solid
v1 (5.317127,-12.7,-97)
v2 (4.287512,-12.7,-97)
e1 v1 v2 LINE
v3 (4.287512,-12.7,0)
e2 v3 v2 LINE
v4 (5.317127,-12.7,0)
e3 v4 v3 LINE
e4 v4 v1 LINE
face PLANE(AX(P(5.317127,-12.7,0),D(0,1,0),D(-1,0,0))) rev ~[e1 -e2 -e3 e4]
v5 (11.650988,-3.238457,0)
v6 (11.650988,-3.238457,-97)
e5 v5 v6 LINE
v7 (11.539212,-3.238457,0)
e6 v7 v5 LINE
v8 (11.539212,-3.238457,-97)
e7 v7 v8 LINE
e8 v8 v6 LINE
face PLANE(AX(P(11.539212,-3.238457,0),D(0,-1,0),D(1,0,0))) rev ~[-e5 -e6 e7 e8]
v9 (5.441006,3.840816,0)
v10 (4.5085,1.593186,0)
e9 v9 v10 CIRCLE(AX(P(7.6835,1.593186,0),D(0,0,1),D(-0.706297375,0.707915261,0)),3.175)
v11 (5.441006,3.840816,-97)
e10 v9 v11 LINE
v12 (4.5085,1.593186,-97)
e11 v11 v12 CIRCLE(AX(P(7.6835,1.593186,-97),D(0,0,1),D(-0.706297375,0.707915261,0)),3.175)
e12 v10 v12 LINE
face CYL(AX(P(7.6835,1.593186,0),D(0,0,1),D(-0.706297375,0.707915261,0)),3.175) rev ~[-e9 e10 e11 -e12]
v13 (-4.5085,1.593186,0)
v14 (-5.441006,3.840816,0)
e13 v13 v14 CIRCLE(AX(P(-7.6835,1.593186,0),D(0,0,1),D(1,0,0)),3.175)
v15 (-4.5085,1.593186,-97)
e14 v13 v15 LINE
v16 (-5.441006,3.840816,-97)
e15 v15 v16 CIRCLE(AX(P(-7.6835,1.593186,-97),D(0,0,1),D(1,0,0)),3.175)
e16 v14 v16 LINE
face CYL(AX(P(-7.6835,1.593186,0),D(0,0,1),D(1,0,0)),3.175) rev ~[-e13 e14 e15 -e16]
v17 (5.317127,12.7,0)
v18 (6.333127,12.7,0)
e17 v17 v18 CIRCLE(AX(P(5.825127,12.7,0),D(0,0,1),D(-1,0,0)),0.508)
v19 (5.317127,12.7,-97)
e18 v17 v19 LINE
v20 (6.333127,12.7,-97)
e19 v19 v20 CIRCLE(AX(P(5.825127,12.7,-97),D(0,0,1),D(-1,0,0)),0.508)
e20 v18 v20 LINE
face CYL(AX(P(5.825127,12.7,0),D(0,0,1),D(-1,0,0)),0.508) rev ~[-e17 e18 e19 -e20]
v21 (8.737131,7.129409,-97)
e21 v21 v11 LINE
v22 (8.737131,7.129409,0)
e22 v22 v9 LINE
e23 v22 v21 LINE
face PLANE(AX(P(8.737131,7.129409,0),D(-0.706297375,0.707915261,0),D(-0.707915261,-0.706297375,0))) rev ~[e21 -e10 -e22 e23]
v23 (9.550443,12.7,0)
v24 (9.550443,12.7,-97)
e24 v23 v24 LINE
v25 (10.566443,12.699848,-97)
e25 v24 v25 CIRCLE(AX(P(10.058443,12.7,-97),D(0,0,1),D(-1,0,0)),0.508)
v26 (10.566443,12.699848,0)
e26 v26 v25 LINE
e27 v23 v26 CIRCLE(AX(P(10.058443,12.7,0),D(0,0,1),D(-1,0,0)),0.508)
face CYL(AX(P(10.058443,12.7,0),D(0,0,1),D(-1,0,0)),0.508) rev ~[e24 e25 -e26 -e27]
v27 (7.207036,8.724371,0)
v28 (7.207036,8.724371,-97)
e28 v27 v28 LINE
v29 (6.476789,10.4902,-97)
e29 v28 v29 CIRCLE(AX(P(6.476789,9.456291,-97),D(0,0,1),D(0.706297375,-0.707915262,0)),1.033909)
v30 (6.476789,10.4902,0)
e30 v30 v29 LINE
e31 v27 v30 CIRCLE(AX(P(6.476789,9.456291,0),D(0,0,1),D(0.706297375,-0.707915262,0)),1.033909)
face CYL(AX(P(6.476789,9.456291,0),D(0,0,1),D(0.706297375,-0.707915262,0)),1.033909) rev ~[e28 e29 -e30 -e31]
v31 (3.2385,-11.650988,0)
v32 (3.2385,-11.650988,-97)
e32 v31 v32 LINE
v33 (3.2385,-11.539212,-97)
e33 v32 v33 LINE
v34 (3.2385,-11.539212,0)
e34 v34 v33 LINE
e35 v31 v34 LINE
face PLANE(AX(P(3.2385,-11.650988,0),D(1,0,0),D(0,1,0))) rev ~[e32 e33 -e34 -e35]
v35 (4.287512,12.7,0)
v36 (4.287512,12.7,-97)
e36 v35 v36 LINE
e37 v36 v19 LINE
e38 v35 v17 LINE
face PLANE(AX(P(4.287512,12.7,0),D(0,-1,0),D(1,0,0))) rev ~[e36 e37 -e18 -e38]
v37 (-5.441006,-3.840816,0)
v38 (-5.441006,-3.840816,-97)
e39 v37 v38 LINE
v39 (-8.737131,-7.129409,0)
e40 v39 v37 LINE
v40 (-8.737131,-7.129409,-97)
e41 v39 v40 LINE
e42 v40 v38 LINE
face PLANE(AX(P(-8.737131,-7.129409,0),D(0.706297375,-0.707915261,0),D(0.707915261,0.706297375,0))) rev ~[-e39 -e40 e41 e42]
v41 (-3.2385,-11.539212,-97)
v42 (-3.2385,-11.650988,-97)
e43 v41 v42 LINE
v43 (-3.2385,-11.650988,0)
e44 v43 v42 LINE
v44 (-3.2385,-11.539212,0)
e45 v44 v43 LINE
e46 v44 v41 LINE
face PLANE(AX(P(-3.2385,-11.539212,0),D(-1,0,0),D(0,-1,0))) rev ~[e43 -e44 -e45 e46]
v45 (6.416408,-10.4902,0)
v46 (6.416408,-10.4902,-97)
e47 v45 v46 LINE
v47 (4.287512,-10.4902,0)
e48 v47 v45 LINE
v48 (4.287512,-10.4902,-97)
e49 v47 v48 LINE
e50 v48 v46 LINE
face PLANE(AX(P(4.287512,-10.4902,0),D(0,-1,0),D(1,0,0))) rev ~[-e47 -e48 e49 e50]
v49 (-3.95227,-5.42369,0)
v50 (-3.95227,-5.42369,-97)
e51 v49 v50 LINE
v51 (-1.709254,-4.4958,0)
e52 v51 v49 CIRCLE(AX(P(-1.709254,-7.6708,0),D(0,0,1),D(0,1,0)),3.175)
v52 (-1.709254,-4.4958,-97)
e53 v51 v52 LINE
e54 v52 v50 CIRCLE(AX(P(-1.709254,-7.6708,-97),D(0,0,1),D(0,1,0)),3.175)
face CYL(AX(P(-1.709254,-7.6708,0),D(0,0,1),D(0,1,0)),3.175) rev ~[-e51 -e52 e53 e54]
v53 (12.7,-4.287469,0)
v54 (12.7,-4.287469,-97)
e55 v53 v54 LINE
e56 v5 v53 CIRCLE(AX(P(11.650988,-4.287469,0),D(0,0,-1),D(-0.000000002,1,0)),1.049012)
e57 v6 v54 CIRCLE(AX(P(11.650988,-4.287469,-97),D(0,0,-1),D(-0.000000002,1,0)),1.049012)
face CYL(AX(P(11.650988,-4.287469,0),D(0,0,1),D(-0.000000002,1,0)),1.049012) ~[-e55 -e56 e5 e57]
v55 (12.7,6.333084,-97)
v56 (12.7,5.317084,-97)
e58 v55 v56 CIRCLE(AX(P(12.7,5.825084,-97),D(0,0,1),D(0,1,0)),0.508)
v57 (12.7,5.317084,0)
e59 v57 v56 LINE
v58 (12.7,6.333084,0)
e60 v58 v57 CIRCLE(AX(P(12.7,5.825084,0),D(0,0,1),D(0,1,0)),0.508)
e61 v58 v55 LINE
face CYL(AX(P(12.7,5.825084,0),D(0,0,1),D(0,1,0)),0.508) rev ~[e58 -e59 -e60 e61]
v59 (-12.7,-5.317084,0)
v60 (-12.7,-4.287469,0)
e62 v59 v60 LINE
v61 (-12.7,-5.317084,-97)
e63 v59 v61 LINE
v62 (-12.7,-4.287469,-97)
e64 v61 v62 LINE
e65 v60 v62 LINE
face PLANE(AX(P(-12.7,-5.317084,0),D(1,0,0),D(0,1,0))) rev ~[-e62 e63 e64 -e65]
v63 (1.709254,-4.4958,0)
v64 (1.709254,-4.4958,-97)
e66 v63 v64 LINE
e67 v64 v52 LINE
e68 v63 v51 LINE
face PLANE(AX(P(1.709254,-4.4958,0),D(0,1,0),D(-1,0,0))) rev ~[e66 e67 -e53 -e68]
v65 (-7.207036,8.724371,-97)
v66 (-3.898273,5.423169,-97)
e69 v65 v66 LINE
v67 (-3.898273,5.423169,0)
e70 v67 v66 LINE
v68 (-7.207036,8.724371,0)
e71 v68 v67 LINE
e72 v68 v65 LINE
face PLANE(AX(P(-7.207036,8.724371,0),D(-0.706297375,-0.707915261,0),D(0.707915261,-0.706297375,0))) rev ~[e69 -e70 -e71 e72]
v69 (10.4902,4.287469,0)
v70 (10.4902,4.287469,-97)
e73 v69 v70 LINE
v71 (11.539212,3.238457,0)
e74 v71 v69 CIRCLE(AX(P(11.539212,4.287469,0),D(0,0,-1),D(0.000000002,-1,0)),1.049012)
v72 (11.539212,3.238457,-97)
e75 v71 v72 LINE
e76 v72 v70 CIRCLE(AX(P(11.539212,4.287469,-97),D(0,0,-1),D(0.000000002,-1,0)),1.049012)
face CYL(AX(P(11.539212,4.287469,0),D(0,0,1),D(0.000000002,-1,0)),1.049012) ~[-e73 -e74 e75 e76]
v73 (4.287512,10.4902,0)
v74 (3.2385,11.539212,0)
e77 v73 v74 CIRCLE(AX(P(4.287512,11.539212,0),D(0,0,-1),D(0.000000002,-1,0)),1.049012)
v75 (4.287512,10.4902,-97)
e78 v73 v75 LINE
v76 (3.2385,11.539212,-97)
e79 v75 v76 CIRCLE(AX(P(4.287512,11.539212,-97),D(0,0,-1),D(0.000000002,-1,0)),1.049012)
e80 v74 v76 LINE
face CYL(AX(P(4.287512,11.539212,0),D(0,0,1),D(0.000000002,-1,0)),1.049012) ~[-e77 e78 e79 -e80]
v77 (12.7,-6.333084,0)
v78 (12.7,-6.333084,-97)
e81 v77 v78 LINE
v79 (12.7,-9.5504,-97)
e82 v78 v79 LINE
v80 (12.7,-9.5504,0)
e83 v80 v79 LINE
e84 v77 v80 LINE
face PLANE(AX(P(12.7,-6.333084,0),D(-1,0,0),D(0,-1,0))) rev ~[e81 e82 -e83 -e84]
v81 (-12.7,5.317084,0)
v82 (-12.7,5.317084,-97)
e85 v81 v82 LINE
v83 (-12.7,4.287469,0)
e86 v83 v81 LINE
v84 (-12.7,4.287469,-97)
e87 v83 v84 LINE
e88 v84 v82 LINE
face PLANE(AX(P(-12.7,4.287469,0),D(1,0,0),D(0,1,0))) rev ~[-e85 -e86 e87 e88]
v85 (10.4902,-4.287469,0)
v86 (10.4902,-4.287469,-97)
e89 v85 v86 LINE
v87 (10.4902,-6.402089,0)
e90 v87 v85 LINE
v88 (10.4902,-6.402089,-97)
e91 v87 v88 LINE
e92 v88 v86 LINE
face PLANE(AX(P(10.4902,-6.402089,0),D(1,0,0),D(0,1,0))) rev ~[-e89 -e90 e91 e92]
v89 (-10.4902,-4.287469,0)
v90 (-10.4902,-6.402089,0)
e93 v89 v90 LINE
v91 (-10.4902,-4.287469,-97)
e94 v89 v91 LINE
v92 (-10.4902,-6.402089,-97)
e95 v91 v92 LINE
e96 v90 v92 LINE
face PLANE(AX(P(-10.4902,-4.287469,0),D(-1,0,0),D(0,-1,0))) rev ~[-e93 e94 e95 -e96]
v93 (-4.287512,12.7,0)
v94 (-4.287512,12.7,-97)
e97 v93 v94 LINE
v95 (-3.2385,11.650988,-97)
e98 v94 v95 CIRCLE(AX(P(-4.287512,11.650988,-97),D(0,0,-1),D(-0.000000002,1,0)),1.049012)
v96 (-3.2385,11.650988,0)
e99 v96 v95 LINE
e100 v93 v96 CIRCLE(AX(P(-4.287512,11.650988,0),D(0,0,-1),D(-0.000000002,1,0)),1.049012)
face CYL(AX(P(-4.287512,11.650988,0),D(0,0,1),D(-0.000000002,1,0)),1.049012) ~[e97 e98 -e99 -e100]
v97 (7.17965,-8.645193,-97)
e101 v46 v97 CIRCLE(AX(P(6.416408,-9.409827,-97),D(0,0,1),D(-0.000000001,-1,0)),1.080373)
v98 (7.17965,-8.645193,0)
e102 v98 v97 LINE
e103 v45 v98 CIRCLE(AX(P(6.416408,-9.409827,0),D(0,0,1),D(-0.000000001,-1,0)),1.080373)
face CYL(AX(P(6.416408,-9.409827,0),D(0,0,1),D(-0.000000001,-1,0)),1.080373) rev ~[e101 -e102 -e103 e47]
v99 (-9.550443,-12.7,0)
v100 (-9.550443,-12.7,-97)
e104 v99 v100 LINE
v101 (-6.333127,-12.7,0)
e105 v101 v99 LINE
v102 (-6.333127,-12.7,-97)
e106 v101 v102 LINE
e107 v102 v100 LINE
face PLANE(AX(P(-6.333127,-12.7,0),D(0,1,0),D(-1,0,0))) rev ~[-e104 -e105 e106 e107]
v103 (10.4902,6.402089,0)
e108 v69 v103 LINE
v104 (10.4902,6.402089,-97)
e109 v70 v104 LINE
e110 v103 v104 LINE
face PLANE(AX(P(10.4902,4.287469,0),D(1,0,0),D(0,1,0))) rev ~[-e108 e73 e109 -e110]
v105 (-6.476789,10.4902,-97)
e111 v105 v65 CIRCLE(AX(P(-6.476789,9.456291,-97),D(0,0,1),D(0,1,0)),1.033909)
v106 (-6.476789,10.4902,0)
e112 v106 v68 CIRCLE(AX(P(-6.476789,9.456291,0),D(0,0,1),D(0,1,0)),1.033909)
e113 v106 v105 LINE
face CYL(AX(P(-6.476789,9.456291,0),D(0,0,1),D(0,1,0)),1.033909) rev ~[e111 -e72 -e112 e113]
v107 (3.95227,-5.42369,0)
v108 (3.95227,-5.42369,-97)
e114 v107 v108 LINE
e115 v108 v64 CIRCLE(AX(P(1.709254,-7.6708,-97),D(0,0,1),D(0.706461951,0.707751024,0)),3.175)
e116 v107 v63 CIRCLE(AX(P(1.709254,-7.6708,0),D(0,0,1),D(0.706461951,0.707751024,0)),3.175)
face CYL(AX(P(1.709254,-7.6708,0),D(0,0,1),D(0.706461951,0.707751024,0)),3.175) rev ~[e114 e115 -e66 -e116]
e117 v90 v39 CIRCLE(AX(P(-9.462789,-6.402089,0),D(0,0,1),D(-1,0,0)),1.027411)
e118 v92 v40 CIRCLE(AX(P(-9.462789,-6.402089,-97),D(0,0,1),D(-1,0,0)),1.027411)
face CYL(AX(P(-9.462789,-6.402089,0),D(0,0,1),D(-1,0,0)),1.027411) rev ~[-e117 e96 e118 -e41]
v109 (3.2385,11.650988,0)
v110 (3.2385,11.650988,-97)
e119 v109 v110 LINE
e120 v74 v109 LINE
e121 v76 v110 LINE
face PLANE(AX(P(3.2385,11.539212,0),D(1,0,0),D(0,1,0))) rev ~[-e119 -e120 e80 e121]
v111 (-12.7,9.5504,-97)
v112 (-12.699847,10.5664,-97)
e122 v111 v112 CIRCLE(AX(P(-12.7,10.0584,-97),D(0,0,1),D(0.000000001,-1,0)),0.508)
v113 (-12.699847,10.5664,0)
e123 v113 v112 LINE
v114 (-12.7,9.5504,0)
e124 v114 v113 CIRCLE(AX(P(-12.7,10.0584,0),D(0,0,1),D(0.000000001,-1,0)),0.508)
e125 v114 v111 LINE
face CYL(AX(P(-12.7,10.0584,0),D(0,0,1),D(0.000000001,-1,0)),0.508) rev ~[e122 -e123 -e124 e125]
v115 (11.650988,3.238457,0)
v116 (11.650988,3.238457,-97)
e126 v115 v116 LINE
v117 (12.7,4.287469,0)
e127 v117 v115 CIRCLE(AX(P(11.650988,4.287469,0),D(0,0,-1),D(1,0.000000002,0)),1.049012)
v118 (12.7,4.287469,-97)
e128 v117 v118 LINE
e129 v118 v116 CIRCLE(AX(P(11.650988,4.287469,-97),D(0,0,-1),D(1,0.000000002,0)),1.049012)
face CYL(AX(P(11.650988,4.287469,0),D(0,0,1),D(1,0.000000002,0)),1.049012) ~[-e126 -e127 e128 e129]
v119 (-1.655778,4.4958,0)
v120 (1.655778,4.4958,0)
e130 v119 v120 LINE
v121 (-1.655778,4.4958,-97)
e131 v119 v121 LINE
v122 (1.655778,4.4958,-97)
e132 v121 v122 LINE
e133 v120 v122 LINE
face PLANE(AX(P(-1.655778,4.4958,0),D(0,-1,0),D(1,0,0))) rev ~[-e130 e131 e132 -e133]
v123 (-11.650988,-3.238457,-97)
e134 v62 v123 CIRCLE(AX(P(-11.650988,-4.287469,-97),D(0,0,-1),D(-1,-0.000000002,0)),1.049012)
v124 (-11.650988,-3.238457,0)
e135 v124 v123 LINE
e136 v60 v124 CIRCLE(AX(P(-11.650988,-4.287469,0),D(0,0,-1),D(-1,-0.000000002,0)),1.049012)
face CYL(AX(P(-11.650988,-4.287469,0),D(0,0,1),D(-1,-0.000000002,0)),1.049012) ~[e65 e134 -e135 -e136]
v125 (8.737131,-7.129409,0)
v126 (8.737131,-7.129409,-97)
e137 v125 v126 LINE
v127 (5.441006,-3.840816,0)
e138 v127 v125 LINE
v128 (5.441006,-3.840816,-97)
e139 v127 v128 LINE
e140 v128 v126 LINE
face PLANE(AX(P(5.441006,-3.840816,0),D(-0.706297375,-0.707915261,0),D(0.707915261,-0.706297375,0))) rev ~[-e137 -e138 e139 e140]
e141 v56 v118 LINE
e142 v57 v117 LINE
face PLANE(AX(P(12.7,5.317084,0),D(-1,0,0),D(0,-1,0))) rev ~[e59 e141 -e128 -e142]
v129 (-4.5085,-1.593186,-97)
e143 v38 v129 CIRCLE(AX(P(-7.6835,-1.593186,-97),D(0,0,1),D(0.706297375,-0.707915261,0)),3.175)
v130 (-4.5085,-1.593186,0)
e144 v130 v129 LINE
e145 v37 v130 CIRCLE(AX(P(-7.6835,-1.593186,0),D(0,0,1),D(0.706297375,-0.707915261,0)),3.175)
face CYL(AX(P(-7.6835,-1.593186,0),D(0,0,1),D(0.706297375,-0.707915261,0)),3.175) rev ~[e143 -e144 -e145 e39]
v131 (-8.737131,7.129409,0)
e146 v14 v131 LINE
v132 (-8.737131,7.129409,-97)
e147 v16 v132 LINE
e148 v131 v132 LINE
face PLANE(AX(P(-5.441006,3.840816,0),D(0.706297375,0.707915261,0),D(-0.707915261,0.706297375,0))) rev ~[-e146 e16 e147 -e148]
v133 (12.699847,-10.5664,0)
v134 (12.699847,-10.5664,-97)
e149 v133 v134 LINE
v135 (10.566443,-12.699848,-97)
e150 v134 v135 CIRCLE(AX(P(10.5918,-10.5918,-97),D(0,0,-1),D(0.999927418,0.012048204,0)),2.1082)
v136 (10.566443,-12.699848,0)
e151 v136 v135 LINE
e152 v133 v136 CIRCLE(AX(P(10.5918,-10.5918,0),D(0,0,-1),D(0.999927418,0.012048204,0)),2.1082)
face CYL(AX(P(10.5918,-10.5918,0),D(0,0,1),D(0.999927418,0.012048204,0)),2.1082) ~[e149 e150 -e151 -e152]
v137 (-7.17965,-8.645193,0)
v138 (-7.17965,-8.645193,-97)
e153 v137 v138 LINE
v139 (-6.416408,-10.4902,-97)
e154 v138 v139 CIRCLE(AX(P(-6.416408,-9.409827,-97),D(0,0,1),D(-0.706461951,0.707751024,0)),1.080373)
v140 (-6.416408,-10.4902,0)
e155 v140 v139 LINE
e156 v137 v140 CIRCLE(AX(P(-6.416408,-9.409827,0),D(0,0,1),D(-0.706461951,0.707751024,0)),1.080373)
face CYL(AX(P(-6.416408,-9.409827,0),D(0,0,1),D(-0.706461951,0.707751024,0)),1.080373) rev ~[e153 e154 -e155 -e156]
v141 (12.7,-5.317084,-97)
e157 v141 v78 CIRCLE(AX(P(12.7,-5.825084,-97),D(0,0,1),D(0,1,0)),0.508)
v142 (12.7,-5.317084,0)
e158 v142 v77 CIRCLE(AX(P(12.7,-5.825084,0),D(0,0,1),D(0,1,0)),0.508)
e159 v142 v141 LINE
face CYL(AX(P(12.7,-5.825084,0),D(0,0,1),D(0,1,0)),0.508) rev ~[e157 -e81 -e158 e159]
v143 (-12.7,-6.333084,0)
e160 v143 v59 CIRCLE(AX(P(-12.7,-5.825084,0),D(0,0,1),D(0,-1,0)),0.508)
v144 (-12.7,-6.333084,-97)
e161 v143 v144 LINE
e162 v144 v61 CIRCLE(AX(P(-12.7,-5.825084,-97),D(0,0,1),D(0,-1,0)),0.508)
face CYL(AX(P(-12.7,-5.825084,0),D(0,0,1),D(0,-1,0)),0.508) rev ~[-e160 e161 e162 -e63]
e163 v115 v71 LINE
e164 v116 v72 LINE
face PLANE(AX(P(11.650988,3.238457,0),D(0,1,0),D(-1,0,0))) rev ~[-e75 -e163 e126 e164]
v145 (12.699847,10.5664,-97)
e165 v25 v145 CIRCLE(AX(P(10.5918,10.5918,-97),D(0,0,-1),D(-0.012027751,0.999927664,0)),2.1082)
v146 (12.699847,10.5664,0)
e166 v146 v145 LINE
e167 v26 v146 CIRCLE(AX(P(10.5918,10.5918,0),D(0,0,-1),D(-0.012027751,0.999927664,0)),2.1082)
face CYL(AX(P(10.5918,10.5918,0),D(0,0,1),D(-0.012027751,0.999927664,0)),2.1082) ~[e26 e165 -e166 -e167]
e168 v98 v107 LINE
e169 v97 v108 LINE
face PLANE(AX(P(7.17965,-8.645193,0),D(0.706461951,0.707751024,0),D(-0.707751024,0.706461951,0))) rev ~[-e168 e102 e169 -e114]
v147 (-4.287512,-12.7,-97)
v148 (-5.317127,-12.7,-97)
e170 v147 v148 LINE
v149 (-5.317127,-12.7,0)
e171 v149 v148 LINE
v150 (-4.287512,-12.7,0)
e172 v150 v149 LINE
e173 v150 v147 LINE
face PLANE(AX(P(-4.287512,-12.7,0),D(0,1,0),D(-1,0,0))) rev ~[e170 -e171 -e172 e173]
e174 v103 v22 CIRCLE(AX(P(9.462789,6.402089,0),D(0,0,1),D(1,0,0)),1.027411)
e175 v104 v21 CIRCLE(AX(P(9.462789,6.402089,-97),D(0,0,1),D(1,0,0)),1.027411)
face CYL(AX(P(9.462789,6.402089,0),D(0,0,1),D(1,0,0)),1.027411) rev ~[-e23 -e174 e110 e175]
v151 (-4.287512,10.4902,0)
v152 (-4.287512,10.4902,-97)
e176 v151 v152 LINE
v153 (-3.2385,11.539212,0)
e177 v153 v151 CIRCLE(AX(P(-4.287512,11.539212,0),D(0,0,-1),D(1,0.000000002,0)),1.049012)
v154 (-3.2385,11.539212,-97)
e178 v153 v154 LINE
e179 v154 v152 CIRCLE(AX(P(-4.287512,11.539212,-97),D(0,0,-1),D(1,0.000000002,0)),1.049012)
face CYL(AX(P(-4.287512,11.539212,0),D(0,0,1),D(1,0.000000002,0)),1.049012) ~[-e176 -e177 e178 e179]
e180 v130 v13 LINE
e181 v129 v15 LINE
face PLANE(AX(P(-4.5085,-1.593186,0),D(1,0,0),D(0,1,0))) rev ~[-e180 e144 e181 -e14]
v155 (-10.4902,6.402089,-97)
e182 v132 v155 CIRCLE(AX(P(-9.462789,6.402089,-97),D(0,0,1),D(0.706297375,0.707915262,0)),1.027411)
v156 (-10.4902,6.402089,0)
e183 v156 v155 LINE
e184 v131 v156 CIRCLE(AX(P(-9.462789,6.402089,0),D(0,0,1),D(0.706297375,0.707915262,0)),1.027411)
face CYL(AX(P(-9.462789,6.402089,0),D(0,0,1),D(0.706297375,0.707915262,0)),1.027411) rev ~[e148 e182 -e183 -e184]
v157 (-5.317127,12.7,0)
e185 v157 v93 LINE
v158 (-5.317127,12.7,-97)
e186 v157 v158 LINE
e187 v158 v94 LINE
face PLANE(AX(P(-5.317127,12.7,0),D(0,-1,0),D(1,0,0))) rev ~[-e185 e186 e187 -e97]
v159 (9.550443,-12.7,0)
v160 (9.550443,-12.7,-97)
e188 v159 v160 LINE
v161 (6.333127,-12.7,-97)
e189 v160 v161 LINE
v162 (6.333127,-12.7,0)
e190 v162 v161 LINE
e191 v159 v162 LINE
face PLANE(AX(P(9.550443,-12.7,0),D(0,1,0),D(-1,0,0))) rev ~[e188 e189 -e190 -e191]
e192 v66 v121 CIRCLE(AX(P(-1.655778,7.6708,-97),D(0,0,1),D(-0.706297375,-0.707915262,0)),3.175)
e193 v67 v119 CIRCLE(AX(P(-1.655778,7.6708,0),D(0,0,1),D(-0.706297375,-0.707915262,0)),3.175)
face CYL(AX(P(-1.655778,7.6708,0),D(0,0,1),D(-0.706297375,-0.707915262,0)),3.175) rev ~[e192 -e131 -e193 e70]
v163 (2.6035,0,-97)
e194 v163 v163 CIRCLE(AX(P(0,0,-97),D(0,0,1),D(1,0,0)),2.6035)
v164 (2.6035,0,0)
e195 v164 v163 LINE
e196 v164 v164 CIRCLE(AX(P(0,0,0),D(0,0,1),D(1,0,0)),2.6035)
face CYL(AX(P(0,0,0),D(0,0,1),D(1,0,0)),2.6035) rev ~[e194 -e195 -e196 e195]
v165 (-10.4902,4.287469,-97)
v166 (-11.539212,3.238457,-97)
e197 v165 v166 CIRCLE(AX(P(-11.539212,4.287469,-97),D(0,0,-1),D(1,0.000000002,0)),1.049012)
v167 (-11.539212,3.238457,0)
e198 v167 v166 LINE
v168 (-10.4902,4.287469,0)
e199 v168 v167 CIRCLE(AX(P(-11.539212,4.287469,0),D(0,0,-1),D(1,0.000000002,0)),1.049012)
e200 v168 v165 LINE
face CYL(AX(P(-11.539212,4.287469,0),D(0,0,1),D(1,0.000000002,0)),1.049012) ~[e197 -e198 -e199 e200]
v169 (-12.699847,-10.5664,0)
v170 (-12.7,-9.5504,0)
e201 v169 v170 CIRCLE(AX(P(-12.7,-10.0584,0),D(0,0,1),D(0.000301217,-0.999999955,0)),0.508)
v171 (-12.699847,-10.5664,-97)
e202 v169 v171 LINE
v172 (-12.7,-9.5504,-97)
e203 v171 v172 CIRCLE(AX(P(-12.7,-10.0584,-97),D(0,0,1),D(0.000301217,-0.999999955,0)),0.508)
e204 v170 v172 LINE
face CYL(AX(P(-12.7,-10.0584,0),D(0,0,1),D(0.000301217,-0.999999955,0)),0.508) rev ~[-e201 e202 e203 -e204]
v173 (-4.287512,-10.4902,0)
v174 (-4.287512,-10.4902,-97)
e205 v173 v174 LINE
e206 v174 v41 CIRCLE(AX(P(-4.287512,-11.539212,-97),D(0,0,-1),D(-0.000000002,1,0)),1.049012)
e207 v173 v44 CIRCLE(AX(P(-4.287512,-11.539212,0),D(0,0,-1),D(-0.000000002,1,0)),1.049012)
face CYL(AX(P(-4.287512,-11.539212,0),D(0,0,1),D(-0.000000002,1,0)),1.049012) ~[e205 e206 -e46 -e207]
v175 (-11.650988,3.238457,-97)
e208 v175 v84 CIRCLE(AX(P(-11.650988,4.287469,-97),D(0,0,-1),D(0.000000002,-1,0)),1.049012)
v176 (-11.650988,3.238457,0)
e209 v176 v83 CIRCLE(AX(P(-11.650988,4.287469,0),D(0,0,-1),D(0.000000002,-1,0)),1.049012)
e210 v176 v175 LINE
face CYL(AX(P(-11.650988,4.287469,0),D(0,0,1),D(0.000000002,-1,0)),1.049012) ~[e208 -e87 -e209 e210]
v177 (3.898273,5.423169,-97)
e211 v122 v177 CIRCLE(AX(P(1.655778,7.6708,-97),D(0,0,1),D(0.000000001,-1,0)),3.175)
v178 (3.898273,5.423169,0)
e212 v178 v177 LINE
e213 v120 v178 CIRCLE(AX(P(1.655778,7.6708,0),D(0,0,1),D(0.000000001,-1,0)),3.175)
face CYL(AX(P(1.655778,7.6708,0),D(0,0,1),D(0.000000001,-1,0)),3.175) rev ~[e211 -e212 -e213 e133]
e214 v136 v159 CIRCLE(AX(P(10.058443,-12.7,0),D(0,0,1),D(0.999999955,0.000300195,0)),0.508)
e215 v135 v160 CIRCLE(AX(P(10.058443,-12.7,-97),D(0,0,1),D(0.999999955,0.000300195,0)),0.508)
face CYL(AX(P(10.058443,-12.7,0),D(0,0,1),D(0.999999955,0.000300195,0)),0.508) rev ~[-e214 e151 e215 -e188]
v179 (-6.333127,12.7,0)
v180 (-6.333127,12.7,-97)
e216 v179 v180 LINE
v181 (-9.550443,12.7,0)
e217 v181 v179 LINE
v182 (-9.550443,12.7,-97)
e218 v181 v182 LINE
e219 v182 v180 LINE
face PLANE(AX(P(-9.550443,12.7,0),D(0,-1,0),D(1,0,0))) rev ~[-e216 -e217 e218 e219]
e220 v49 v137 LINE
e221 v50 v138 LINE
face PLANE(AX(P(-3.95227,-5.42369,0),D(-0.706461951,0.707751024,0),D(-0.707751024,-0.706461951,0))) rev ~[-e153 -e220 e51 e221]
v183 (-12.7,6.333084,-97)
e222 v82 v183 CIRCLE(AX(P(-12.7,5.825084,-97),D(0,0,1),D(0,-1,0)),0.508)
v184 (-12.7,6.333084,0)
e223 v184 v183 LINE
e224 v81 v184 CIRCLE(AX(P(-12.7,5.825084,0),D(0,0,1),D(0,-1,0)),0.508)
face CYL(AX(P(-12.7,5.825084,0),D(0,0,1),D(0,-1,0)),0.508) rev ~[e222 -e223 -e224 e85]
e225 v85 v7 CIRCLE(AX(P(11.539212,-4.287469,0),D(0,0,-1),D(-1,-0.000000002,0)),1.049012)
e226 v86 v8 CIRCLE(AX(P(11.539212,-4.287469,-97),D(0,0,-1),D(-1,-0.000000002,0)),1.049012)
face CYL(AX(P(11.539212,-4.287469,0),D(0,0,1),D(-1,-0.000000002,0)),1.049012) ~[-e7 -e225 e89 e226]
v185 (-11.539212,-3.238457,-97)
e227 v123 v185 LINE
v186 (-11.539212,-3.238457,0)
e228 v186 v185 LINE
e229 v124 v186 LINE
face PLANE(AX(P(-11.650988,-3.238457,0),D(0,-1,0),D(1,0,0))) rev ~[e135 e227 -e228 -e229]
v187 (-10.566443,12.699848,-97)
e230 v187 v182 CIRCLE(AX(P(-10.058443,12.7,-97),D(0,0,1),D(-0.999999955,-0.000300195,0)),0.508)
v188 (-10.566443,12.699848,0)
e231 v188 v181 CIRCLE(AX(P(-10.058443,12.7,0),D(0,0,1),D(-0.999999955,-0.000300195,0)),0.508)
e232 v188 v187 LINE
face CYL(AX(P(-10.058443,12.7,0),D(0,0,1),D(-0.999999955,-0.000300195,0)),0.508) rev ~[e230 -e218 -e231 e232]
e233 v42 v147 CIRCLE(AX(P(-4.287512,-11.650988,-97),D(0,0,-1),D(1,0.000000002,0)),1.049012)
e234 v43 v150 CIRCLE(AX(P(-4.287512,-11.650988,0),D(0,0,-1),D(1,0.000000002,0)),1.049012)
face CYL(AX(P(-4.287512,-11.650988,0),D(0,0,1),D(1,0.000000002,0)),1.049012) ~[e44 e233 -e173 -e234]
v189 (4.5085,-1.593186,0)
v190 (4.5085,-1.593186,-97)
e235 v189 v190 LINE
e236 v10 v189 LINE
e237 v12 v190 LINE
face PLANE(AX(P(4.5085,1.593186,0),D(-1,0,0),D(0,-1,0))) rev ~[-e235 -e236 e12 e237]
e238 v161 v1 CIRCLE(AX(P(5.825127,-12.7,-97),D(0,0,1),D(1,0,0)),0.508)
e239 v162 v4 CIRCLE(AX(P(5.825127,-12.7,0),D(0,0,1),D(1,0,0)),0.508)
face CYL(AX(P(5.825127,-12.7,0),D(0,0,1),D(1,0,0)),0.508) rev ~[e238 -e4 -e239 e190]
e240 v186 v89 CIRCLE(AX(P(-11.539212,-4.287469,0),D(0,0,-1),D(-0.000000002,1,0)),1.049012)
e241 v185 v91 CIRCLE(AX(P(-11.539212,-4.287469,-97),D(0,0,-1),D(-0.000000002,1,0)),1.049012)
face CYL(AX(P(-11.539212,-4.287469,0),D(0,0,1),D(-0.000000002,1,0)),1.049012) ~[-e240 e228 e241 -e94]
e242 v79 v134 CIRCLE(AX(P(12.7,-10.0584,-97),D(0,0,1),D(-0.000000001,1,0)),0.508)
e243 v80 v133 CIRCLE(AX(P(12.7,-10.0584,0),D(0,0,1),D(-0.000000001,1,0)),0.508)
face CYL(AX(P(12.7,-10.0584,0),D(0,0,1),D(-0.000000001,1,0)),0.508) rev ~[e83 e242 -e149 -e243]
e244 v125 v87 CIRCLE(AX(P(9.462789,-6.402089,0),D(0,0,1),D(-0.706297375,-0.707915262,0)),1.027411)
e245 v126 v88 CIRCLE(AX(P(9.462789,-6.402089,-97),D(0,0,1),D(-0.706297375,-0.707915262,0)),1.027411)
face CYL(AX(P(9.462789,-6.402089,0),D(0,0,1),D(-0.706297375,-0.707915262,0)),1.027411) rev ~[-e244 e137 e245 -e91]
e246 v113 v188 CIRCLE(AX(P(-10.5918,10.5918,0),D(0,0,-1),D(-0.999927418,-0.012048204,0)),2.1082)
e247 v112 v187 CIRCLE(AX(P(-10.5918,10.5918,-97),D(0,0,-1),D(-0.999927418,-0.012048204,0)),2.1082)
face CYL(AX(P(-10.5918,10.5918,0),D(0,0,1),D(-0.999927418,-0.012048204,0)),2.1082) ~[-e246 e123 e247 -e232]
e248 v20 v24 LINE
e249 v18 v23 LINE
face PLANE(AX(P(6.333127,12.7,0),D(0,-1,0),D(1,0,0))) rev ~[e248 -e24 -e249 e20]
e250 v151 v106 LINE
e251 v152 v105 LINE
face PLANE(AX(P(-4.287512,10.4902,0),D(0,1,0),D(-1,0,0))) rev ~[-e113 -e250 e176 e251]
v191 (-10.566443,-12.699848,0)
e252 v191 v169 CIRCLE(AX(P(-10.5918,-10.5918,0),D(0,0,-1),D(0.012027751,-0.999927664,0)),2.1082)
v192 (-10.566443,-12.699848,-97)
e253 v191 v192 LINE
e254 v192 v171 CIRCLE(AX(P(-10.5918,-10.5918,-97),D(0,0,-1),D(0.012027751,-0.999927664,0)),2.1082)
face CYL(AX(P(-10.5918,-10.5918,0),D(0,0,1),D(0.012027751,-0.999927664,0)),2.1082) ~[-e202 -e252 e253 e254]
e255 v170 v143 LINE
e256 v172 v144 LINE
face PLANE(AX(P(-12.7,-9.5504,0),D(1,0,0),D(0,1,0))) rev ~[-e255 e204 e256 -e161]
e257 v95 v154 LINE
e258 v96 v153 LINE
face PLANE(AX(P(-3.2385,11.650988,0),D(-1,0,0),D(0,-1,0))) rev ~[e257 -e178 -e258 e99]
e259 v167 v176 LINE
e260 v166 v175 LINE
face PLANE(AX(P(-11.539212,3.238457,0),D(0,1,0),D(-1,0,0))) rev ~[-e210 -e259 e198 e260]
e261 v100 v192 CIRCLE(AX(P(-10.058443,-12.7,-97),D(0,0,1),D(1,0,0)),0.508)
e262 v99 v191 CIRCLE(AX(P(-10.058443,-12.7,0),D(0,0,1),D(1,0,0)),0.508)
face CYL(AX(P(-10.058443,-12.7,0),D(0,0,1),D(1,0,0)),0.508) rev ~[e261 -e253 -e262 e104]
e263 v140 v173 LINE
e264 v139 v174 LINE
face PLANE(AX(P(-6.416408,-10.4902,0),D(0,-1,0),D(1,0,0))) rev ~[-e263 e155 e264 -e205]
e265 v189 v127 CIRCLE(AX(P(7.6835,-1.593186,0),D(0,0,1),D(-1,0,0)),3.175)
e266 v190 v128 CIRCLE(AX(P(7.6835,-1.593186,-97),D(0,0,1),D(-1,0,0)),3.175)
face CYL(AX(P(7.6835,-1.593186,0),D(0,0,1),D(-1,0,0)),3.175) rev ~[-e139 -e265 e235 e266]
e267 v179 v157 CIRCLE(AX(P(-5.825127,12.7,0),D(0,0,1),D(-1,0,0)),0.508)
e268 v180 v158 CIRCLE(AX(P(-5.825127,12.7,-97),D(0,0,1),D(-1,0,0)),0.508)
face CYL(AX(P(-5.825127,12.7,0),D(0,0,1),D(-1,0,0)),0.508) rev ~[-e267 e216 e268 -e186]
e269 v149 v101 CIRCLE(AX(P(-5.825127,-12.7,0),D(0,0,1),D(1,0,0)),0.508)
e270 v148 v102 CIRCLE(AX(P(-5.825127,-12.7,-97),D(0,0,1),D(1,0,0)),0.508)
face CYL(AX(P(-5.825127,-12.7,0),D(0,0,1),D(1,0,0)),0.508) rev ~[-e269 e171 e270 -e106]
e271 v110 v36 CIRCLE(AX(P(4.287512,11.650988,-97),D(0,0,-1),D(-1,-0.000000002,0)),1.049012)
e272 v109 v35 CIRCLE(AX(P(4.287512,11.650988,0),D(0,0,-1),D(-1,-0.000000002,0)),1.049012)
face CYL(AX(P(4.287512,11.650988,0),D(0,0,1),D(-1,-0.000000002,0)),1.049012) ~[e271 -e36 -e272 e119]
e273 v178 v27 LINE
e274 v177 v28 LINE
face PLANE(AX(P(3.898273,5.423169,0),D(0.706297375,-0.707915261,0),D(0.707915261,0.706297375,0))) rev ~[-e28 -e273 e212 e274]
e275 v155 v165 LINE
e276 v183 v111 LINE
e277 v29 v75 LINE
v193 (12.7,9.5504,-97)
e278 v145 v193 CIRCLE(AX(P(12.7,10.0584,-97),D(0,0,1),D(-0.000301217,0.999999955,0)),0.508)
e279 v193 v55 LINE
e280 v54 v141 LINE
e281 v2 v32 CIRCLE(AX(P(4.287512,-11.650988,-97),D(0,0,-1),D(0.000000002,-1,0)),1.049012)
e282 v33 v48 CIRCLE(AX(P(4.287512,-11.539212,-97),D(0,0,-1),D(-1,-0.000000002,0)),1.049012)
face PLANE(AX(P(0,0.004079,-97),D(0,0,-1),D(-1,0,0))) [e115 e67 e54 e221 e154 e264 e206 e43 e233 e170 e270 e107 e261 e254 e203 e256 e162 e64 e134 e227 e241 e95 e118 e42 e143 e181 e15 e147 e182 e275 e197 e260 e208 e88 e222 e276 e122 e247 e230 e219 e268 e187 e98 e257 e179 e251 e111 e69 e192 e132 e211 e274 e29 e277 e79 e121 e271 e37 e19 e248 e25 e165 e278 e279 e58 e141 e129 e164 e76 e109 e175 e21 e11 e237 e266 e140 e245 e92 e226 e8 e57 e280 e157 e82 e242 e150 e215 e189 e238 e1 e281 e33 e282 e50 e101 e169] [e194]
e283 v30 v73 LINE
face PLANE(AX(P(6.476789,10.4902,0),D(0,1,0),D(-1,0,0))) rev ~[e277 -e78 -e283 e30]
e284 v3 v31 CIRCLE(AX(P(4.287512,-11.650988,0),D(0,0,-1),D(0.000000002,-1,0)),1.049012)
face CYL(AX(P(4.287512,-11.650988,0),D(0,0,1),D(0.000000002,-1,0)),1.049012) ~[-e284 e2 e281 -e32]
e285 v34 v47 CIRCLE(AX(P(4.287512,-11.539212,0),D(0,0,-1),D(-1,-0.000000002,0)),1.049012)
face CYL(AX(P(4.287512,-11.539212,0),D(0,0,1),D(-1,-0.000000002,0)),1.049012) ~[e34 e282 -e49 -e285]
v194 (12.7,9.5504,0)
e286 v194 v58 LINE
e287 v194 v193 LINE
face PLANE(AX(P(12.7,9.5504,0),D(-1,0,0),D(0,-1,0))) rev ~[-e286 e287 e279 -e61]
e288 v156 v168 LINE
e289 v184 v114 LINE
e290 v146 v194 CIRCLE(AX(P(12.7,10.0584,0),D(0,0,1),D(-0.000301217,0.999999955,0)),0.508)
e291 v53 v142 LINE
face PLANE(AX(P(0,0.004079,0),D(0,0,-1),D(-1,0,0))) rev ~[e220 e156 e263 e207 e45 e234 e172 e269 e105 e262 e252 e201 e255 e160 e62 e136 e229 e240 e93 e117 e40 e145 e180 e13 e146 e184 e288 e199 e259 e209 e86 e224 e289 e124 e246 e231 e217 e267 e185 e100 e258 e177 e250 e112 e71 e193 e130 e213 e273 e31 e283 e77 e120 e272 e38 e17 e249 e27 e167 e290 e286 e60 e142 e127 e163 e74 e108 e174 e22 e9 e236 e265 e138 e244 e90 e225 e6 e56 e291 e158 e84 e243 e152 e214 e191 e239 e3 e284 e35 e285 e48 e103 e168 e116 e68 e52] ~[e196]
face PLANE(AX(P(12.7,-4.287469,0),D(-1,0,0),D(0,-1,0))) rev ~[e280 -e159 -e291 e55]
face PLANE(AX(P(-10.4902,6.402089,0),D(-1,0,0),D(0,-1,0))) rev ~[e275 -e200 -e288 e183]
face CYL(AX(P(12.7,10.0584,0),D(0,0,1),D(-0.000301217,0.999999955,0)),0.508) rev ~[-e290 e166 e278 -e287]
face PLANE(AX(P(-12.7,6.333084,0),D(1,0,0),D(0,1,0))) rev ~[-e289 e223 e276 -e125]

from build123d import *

# Parameters (mm, degrees)
SKETCH1_R      = 2.6035
EXTRUDE1_DEPTH = 97


with BuildPart() as part:
    # Sketch1 → Extrude1 (new body)
    with BuildSketch(Plane.XY):
        with BuildLine():
            Line((-7.207036008, 8.724370562), (-3.898272566, 5.423169045))
            ThreePointArc((-3.898272566, 5.423169045), (-2.869120213, 4.736787962), (-1.655778399, 4.4958))
            Line((-1.655778399, 4.4958), (1.655778399, 4.4958))
            ThreePointArc((1.655778399, 4.4958), (2.869120213, 4.736787962), (3.898272566, 5.423169045))
            Line((3.898272566, 5.423169045), (7.207036008, 8.724370562))
            ThreePointArc((7.207036008, 8.724370562), (7.432222385, 9.85140422), (6.476788598, 10.4902))
            Line((6.476788598, 10.4902), (4.287512407, 10.4902))
            ThreePointArc((4.287512407, 10.4902), (3.54574862, 10.79744862), (3.2385, 11.539212407))
            Line((3.2385, 11.539212407), (3.2385, 11.650987593))
            ThreePointArc((3.2385, 11.650987593), (3.54574862, 12.39275138), (4.287512407, 12.7))
            Line((4.287512407, 12.7), (5.317126718, 12.7))
            ThreePointArc((5.317126718, 12.7), (5.825126718, 12.192), (6.333126718, 12.7))
            Line((6.333126718, 12.7), (9.550443118, 12.7))
            ThreePointArc((9.550443118, 12.7), (10.058366869, 12.192000006), (10.566443095, 12.699847501))
            ThreePointArc((10.566443095, 12.699847501), (12.082537762, 12.08250727), (12.699846982, 10.566399977))
            ThreePointArc((12.699846982, 10.566399977), (12.192000006, 10.058323491), (12.7, 9.5504))
            Line((12.7, 9.5504), (12.7, 6.3330836))
            ThreePointArc((12.7, 6.3330836), (12.192, 5.8250836), (12.7, 5.3170836))
            Line((12.7, 5.3170836), (12.7, 4.287469289))
            ThreePointArc((12.7, 4.287469289), (12.39275138, 3.545705502), (11.650987593, 3.238456882))
            Line((11.650987593, 3.238456882), (11.539212407, 3.238456882))
            ThreePointArc((11.539212407, 3.238456882), (10.79744862, 3.545705502), (10.4902, 4.287469289))
            Line((10.4902, 4.287469289), (10.4902, 6.402089023))
            ThreePointArc((10.4902, 6.402089023), (9.856505071, 7.351067942), (8.737131347, 7.129408934))
            Line((8.737131347, 7.129408934), (5.441005833, 3.840816462))
            ThreePointArc((5.441005833, 3.840816462), (4.750877967, 2.809883091), (4.5085, 1.593185507))
            Line((4.5085, 1.593185507), (4.5085, -1.593185507))
            ThreePointArc((4.5085, -1.593185507), (4.750877967, -2.809883091), (5.441005833, -3.840816462))
            Line((5.441005833, -3.840816462), (8.737131347, -7.129408934))
            ThreePointArc((8.737131347, -7.129408934), (9.856505071, -7.351067942), (10.4902, -6.402089023))
            Line((10.4902, -6.402089023), (10.4902, -4.287469289))
            ThreePointArc((10.4902, -4.287469289), (10.79744862, -3.545705502), (11.539212407, -3.238456882))
            Line((11.539212407, -3.238456882), (11.650987593, -3.238456882))
            ThreePointArc((11.650987593, -3.238456882), (12.39275138, -3.545705502), (12.7, -4.287469289))
            Line((12.7, -4.287469289), (12.7, -5.3170836))
            ThreePointArc((12.7, -5.3170836), (12.192, -5.8250836), (12.7, -6.3330836))
            Line((12.7, -6.3330836), (12.7, -9.5504))
            ThreePointArc((12.7, -9.5504), (12.192000006, -10.058323491), (12.699846982, -10.566399977))
            ThreePointArc((12.699846982, -10.566399977), (12.082537762, -12.08250727), (10.566443095, -12.699847501))
            ThreePointArc((10.566443095, -12.699847501), (10.058366869, -12.192000006), (9.550443118, -12.7))
            Line((9.550443118, -12.7), (6.333126718, -12.7))
            ThreePointArc((6.333126718, -12.7), (5.825126718, -12.192), (5.317126718, -12.7))
            Line((5.317126718, -12.7), (4.287512407, -12.7))
            ThreePointArc((4.287512407, -12.7), (3.54574862, -12.39275138), (3.2385, -11.650987593))
            Line((3.2385, -11.650987593), (3.2385, -11.539212407))
            ThreePointArc((3.2385, -11.539212407), (3.54574862, -10.79744862), (4.287512407, -10.4902))
            Line((4.287512407, -10.4902), (6.416408329, -10.4902))
            ThreePointArc((6.416408329, -10.4902), (7.41473083, -9.822813117), (7.179650497, -8.645192506))
            Line((7.179650497, -8.645192506), (3.952270251, -5.423690499))
            ThreePointArc((3.952270251, -5.423690499), (2.922936451, -4.736929036), (1.709253557, -4.4958))
            Line((1.709253557, -4.4958), (-1.709253557, -4.4958))
            ThreePointArc((-1.709253557, -4.4958), (-2.922936451, -4.736929036), (-3.952270251, -5.423690499))
            Line((-3.952270251, -5.423690499), (-7.179650497, -8.645192506))
            ThreePointArc((-7.179650497, -8.645192506), (-7.41473083, -9.822813117), (-6.416408329, -10.4902))
            Line((-6.416408329, -10.4902), (-4.287512407, -10.4902))
            ThreePointArc((-4.287512407, -10.4902), (-3.54574862, -10.79744862), (-3.2385, -11.539212407))
            Line((-3.2385, -11.539212407), (-3.2385, -11.650987593))
            ThreePointArc((-3.2385, -11.650987593), (-3.54574862, -12.39275138), (-4.287512407, -12.7))
            Line((-4.287512407, -12.7), (-5.317126718, -12.7))
            ThreePointArc((-5.317126718, -12.7), (-5.825126718, -12.192), (-6.333126718, -12.7))
            Line((-6.333126718, -12.7), (-9.550443118, -12.7))
            ThreePointArc((-9.550443118, -12.7), (-10.058366869, -12.192000006), (-10.566443095, -12.699847501))
            ThreePointArc((-10.566443095, -12.699847501), (-12.082537762, -12.08250727), (-12.699846982, -10.566399977))
            ThreePointArc((-12.699846982, -10.566399977), (-12.192000006, -10.058323491), (-12.7, -9.5504))
            Line((-12.7, -9.5504), (-12.7, -6.3330836))
            ThreePointArc((-12.7, -6.3330836), (-12.192, -5.8250836), (-12.7, -5.3170836))
            Line((-12.7, -5.3170836), (-12.7, -4.287469289))
            ThreePointArc((-12.7, -4.287469289), (-12.39275138, -3.545705502), (-11.650987593, -3.238456882))
            Line((-11.650987593, -3.238456882), (-11.539212407, -3.238456882))
            ThreePointArc((-11.539212407, -3.238456882), (-10.79744862, -3.545705502), (-10.4902, -4.287469289))
            Line((-10.4902, -4.287469289), (-10.4902, -6.402089023))
            ThreePointArc((-10.4902, -6.402089023), (-9.856505071, -7.351067942), (-8.737131347, -7.129408934))
            Line((-8.737131347, -7.129408934), (-5.441005833, -3.840816462))
            ThreePointArc((-5.441005833, -3.840816462), (-4.750877967, -2.809883091), (-4.5085, -1.593185507))
            Line((-4.5085, -1.593185507), (-4.5085, 1.593185507))
            ThreePointArc((-4.5085, 1.593185507), (-4.750877967, 2.809883091), (-5.441005833, 3.840816462))
            Line((-5.441005833, 3.840816462), (-8.737131347, 7.129408934))
            ThreePointArc((-8.737131347, 7.129408934), (-9.856505071, 7.351067942), (-10.4902, 6.402089023))
            Line((-10.4902, 6.402089023), (-10.4902, 4.287469289))
            ThreePointArc((-10.4902, 4.287469289), (-10.79744862, 3.545705502), (-11.539212407, 3.238456882))
            Line((-11.539212407, 3.238456882), (-11.650987593, 3.238456882))
            ThreePointArc((-11.650987593, 3.238456882), (-12.39275138, 3.545705502), (-12.7, 4.287469289))
            Line((-12.7, 4.287469289), (-12.7, 5.3170836))
            ThreePointArc((-12.7, 5.3170836), (-12.192, 5.8250836), (-12.7, 6.3330836))
            Line((-12.7, 6.3330836), (-12.7, 9.5504))
            ThreePointArc((-12.7, 9.5504), (-12.192000006, 10.058323491), (-12.699846982, 10.566399977))
            ThreePointArc((-12.699846982, 10.566399977), (-12.082537762, 12.08250727), (-10.566443095, 12.699847501))
            ThreePointArc((-10.566443095, 12.699847501), (-10.058366869, 12.192000006), (-9.550443118, 12.7))
            Line((-9.550443118, 12.7), (-6.333126718, 12.7))
            ThreePointArc((-6.333126718, 12.7), (-5.825126718, 12.192), (-5.317126718, 12.7))
            Line((-5.317126718, 12.7), (-4.287512407, 12.7))
            ThreePointArc((-4.287512407, 12.7), (-3.54574862, 12.39275138), (-3.2385, 11.650987593))
            Line((-3.2385, 11.650987593), (-3.2385, 11.539212407))
            ThreePointArc((-3.2385, 11.539212407), (-3.54574862, 10.79744862), (-4.287512407, 10.4902))
            Line((-4.287512407, 10.4902), (-6.476788598, 10.4902))
            ThreePointArc((-6.476788598, 10.4902), (-7.432222385, 9.85140422), (-7.207036008, 8.724370562))
        make_face()
        Circle(SKETCH1_R, mode=Mode.SUBTRACT)
    extrude(amount=-EXTRUDE1_DEPTH)


solid = part.part
